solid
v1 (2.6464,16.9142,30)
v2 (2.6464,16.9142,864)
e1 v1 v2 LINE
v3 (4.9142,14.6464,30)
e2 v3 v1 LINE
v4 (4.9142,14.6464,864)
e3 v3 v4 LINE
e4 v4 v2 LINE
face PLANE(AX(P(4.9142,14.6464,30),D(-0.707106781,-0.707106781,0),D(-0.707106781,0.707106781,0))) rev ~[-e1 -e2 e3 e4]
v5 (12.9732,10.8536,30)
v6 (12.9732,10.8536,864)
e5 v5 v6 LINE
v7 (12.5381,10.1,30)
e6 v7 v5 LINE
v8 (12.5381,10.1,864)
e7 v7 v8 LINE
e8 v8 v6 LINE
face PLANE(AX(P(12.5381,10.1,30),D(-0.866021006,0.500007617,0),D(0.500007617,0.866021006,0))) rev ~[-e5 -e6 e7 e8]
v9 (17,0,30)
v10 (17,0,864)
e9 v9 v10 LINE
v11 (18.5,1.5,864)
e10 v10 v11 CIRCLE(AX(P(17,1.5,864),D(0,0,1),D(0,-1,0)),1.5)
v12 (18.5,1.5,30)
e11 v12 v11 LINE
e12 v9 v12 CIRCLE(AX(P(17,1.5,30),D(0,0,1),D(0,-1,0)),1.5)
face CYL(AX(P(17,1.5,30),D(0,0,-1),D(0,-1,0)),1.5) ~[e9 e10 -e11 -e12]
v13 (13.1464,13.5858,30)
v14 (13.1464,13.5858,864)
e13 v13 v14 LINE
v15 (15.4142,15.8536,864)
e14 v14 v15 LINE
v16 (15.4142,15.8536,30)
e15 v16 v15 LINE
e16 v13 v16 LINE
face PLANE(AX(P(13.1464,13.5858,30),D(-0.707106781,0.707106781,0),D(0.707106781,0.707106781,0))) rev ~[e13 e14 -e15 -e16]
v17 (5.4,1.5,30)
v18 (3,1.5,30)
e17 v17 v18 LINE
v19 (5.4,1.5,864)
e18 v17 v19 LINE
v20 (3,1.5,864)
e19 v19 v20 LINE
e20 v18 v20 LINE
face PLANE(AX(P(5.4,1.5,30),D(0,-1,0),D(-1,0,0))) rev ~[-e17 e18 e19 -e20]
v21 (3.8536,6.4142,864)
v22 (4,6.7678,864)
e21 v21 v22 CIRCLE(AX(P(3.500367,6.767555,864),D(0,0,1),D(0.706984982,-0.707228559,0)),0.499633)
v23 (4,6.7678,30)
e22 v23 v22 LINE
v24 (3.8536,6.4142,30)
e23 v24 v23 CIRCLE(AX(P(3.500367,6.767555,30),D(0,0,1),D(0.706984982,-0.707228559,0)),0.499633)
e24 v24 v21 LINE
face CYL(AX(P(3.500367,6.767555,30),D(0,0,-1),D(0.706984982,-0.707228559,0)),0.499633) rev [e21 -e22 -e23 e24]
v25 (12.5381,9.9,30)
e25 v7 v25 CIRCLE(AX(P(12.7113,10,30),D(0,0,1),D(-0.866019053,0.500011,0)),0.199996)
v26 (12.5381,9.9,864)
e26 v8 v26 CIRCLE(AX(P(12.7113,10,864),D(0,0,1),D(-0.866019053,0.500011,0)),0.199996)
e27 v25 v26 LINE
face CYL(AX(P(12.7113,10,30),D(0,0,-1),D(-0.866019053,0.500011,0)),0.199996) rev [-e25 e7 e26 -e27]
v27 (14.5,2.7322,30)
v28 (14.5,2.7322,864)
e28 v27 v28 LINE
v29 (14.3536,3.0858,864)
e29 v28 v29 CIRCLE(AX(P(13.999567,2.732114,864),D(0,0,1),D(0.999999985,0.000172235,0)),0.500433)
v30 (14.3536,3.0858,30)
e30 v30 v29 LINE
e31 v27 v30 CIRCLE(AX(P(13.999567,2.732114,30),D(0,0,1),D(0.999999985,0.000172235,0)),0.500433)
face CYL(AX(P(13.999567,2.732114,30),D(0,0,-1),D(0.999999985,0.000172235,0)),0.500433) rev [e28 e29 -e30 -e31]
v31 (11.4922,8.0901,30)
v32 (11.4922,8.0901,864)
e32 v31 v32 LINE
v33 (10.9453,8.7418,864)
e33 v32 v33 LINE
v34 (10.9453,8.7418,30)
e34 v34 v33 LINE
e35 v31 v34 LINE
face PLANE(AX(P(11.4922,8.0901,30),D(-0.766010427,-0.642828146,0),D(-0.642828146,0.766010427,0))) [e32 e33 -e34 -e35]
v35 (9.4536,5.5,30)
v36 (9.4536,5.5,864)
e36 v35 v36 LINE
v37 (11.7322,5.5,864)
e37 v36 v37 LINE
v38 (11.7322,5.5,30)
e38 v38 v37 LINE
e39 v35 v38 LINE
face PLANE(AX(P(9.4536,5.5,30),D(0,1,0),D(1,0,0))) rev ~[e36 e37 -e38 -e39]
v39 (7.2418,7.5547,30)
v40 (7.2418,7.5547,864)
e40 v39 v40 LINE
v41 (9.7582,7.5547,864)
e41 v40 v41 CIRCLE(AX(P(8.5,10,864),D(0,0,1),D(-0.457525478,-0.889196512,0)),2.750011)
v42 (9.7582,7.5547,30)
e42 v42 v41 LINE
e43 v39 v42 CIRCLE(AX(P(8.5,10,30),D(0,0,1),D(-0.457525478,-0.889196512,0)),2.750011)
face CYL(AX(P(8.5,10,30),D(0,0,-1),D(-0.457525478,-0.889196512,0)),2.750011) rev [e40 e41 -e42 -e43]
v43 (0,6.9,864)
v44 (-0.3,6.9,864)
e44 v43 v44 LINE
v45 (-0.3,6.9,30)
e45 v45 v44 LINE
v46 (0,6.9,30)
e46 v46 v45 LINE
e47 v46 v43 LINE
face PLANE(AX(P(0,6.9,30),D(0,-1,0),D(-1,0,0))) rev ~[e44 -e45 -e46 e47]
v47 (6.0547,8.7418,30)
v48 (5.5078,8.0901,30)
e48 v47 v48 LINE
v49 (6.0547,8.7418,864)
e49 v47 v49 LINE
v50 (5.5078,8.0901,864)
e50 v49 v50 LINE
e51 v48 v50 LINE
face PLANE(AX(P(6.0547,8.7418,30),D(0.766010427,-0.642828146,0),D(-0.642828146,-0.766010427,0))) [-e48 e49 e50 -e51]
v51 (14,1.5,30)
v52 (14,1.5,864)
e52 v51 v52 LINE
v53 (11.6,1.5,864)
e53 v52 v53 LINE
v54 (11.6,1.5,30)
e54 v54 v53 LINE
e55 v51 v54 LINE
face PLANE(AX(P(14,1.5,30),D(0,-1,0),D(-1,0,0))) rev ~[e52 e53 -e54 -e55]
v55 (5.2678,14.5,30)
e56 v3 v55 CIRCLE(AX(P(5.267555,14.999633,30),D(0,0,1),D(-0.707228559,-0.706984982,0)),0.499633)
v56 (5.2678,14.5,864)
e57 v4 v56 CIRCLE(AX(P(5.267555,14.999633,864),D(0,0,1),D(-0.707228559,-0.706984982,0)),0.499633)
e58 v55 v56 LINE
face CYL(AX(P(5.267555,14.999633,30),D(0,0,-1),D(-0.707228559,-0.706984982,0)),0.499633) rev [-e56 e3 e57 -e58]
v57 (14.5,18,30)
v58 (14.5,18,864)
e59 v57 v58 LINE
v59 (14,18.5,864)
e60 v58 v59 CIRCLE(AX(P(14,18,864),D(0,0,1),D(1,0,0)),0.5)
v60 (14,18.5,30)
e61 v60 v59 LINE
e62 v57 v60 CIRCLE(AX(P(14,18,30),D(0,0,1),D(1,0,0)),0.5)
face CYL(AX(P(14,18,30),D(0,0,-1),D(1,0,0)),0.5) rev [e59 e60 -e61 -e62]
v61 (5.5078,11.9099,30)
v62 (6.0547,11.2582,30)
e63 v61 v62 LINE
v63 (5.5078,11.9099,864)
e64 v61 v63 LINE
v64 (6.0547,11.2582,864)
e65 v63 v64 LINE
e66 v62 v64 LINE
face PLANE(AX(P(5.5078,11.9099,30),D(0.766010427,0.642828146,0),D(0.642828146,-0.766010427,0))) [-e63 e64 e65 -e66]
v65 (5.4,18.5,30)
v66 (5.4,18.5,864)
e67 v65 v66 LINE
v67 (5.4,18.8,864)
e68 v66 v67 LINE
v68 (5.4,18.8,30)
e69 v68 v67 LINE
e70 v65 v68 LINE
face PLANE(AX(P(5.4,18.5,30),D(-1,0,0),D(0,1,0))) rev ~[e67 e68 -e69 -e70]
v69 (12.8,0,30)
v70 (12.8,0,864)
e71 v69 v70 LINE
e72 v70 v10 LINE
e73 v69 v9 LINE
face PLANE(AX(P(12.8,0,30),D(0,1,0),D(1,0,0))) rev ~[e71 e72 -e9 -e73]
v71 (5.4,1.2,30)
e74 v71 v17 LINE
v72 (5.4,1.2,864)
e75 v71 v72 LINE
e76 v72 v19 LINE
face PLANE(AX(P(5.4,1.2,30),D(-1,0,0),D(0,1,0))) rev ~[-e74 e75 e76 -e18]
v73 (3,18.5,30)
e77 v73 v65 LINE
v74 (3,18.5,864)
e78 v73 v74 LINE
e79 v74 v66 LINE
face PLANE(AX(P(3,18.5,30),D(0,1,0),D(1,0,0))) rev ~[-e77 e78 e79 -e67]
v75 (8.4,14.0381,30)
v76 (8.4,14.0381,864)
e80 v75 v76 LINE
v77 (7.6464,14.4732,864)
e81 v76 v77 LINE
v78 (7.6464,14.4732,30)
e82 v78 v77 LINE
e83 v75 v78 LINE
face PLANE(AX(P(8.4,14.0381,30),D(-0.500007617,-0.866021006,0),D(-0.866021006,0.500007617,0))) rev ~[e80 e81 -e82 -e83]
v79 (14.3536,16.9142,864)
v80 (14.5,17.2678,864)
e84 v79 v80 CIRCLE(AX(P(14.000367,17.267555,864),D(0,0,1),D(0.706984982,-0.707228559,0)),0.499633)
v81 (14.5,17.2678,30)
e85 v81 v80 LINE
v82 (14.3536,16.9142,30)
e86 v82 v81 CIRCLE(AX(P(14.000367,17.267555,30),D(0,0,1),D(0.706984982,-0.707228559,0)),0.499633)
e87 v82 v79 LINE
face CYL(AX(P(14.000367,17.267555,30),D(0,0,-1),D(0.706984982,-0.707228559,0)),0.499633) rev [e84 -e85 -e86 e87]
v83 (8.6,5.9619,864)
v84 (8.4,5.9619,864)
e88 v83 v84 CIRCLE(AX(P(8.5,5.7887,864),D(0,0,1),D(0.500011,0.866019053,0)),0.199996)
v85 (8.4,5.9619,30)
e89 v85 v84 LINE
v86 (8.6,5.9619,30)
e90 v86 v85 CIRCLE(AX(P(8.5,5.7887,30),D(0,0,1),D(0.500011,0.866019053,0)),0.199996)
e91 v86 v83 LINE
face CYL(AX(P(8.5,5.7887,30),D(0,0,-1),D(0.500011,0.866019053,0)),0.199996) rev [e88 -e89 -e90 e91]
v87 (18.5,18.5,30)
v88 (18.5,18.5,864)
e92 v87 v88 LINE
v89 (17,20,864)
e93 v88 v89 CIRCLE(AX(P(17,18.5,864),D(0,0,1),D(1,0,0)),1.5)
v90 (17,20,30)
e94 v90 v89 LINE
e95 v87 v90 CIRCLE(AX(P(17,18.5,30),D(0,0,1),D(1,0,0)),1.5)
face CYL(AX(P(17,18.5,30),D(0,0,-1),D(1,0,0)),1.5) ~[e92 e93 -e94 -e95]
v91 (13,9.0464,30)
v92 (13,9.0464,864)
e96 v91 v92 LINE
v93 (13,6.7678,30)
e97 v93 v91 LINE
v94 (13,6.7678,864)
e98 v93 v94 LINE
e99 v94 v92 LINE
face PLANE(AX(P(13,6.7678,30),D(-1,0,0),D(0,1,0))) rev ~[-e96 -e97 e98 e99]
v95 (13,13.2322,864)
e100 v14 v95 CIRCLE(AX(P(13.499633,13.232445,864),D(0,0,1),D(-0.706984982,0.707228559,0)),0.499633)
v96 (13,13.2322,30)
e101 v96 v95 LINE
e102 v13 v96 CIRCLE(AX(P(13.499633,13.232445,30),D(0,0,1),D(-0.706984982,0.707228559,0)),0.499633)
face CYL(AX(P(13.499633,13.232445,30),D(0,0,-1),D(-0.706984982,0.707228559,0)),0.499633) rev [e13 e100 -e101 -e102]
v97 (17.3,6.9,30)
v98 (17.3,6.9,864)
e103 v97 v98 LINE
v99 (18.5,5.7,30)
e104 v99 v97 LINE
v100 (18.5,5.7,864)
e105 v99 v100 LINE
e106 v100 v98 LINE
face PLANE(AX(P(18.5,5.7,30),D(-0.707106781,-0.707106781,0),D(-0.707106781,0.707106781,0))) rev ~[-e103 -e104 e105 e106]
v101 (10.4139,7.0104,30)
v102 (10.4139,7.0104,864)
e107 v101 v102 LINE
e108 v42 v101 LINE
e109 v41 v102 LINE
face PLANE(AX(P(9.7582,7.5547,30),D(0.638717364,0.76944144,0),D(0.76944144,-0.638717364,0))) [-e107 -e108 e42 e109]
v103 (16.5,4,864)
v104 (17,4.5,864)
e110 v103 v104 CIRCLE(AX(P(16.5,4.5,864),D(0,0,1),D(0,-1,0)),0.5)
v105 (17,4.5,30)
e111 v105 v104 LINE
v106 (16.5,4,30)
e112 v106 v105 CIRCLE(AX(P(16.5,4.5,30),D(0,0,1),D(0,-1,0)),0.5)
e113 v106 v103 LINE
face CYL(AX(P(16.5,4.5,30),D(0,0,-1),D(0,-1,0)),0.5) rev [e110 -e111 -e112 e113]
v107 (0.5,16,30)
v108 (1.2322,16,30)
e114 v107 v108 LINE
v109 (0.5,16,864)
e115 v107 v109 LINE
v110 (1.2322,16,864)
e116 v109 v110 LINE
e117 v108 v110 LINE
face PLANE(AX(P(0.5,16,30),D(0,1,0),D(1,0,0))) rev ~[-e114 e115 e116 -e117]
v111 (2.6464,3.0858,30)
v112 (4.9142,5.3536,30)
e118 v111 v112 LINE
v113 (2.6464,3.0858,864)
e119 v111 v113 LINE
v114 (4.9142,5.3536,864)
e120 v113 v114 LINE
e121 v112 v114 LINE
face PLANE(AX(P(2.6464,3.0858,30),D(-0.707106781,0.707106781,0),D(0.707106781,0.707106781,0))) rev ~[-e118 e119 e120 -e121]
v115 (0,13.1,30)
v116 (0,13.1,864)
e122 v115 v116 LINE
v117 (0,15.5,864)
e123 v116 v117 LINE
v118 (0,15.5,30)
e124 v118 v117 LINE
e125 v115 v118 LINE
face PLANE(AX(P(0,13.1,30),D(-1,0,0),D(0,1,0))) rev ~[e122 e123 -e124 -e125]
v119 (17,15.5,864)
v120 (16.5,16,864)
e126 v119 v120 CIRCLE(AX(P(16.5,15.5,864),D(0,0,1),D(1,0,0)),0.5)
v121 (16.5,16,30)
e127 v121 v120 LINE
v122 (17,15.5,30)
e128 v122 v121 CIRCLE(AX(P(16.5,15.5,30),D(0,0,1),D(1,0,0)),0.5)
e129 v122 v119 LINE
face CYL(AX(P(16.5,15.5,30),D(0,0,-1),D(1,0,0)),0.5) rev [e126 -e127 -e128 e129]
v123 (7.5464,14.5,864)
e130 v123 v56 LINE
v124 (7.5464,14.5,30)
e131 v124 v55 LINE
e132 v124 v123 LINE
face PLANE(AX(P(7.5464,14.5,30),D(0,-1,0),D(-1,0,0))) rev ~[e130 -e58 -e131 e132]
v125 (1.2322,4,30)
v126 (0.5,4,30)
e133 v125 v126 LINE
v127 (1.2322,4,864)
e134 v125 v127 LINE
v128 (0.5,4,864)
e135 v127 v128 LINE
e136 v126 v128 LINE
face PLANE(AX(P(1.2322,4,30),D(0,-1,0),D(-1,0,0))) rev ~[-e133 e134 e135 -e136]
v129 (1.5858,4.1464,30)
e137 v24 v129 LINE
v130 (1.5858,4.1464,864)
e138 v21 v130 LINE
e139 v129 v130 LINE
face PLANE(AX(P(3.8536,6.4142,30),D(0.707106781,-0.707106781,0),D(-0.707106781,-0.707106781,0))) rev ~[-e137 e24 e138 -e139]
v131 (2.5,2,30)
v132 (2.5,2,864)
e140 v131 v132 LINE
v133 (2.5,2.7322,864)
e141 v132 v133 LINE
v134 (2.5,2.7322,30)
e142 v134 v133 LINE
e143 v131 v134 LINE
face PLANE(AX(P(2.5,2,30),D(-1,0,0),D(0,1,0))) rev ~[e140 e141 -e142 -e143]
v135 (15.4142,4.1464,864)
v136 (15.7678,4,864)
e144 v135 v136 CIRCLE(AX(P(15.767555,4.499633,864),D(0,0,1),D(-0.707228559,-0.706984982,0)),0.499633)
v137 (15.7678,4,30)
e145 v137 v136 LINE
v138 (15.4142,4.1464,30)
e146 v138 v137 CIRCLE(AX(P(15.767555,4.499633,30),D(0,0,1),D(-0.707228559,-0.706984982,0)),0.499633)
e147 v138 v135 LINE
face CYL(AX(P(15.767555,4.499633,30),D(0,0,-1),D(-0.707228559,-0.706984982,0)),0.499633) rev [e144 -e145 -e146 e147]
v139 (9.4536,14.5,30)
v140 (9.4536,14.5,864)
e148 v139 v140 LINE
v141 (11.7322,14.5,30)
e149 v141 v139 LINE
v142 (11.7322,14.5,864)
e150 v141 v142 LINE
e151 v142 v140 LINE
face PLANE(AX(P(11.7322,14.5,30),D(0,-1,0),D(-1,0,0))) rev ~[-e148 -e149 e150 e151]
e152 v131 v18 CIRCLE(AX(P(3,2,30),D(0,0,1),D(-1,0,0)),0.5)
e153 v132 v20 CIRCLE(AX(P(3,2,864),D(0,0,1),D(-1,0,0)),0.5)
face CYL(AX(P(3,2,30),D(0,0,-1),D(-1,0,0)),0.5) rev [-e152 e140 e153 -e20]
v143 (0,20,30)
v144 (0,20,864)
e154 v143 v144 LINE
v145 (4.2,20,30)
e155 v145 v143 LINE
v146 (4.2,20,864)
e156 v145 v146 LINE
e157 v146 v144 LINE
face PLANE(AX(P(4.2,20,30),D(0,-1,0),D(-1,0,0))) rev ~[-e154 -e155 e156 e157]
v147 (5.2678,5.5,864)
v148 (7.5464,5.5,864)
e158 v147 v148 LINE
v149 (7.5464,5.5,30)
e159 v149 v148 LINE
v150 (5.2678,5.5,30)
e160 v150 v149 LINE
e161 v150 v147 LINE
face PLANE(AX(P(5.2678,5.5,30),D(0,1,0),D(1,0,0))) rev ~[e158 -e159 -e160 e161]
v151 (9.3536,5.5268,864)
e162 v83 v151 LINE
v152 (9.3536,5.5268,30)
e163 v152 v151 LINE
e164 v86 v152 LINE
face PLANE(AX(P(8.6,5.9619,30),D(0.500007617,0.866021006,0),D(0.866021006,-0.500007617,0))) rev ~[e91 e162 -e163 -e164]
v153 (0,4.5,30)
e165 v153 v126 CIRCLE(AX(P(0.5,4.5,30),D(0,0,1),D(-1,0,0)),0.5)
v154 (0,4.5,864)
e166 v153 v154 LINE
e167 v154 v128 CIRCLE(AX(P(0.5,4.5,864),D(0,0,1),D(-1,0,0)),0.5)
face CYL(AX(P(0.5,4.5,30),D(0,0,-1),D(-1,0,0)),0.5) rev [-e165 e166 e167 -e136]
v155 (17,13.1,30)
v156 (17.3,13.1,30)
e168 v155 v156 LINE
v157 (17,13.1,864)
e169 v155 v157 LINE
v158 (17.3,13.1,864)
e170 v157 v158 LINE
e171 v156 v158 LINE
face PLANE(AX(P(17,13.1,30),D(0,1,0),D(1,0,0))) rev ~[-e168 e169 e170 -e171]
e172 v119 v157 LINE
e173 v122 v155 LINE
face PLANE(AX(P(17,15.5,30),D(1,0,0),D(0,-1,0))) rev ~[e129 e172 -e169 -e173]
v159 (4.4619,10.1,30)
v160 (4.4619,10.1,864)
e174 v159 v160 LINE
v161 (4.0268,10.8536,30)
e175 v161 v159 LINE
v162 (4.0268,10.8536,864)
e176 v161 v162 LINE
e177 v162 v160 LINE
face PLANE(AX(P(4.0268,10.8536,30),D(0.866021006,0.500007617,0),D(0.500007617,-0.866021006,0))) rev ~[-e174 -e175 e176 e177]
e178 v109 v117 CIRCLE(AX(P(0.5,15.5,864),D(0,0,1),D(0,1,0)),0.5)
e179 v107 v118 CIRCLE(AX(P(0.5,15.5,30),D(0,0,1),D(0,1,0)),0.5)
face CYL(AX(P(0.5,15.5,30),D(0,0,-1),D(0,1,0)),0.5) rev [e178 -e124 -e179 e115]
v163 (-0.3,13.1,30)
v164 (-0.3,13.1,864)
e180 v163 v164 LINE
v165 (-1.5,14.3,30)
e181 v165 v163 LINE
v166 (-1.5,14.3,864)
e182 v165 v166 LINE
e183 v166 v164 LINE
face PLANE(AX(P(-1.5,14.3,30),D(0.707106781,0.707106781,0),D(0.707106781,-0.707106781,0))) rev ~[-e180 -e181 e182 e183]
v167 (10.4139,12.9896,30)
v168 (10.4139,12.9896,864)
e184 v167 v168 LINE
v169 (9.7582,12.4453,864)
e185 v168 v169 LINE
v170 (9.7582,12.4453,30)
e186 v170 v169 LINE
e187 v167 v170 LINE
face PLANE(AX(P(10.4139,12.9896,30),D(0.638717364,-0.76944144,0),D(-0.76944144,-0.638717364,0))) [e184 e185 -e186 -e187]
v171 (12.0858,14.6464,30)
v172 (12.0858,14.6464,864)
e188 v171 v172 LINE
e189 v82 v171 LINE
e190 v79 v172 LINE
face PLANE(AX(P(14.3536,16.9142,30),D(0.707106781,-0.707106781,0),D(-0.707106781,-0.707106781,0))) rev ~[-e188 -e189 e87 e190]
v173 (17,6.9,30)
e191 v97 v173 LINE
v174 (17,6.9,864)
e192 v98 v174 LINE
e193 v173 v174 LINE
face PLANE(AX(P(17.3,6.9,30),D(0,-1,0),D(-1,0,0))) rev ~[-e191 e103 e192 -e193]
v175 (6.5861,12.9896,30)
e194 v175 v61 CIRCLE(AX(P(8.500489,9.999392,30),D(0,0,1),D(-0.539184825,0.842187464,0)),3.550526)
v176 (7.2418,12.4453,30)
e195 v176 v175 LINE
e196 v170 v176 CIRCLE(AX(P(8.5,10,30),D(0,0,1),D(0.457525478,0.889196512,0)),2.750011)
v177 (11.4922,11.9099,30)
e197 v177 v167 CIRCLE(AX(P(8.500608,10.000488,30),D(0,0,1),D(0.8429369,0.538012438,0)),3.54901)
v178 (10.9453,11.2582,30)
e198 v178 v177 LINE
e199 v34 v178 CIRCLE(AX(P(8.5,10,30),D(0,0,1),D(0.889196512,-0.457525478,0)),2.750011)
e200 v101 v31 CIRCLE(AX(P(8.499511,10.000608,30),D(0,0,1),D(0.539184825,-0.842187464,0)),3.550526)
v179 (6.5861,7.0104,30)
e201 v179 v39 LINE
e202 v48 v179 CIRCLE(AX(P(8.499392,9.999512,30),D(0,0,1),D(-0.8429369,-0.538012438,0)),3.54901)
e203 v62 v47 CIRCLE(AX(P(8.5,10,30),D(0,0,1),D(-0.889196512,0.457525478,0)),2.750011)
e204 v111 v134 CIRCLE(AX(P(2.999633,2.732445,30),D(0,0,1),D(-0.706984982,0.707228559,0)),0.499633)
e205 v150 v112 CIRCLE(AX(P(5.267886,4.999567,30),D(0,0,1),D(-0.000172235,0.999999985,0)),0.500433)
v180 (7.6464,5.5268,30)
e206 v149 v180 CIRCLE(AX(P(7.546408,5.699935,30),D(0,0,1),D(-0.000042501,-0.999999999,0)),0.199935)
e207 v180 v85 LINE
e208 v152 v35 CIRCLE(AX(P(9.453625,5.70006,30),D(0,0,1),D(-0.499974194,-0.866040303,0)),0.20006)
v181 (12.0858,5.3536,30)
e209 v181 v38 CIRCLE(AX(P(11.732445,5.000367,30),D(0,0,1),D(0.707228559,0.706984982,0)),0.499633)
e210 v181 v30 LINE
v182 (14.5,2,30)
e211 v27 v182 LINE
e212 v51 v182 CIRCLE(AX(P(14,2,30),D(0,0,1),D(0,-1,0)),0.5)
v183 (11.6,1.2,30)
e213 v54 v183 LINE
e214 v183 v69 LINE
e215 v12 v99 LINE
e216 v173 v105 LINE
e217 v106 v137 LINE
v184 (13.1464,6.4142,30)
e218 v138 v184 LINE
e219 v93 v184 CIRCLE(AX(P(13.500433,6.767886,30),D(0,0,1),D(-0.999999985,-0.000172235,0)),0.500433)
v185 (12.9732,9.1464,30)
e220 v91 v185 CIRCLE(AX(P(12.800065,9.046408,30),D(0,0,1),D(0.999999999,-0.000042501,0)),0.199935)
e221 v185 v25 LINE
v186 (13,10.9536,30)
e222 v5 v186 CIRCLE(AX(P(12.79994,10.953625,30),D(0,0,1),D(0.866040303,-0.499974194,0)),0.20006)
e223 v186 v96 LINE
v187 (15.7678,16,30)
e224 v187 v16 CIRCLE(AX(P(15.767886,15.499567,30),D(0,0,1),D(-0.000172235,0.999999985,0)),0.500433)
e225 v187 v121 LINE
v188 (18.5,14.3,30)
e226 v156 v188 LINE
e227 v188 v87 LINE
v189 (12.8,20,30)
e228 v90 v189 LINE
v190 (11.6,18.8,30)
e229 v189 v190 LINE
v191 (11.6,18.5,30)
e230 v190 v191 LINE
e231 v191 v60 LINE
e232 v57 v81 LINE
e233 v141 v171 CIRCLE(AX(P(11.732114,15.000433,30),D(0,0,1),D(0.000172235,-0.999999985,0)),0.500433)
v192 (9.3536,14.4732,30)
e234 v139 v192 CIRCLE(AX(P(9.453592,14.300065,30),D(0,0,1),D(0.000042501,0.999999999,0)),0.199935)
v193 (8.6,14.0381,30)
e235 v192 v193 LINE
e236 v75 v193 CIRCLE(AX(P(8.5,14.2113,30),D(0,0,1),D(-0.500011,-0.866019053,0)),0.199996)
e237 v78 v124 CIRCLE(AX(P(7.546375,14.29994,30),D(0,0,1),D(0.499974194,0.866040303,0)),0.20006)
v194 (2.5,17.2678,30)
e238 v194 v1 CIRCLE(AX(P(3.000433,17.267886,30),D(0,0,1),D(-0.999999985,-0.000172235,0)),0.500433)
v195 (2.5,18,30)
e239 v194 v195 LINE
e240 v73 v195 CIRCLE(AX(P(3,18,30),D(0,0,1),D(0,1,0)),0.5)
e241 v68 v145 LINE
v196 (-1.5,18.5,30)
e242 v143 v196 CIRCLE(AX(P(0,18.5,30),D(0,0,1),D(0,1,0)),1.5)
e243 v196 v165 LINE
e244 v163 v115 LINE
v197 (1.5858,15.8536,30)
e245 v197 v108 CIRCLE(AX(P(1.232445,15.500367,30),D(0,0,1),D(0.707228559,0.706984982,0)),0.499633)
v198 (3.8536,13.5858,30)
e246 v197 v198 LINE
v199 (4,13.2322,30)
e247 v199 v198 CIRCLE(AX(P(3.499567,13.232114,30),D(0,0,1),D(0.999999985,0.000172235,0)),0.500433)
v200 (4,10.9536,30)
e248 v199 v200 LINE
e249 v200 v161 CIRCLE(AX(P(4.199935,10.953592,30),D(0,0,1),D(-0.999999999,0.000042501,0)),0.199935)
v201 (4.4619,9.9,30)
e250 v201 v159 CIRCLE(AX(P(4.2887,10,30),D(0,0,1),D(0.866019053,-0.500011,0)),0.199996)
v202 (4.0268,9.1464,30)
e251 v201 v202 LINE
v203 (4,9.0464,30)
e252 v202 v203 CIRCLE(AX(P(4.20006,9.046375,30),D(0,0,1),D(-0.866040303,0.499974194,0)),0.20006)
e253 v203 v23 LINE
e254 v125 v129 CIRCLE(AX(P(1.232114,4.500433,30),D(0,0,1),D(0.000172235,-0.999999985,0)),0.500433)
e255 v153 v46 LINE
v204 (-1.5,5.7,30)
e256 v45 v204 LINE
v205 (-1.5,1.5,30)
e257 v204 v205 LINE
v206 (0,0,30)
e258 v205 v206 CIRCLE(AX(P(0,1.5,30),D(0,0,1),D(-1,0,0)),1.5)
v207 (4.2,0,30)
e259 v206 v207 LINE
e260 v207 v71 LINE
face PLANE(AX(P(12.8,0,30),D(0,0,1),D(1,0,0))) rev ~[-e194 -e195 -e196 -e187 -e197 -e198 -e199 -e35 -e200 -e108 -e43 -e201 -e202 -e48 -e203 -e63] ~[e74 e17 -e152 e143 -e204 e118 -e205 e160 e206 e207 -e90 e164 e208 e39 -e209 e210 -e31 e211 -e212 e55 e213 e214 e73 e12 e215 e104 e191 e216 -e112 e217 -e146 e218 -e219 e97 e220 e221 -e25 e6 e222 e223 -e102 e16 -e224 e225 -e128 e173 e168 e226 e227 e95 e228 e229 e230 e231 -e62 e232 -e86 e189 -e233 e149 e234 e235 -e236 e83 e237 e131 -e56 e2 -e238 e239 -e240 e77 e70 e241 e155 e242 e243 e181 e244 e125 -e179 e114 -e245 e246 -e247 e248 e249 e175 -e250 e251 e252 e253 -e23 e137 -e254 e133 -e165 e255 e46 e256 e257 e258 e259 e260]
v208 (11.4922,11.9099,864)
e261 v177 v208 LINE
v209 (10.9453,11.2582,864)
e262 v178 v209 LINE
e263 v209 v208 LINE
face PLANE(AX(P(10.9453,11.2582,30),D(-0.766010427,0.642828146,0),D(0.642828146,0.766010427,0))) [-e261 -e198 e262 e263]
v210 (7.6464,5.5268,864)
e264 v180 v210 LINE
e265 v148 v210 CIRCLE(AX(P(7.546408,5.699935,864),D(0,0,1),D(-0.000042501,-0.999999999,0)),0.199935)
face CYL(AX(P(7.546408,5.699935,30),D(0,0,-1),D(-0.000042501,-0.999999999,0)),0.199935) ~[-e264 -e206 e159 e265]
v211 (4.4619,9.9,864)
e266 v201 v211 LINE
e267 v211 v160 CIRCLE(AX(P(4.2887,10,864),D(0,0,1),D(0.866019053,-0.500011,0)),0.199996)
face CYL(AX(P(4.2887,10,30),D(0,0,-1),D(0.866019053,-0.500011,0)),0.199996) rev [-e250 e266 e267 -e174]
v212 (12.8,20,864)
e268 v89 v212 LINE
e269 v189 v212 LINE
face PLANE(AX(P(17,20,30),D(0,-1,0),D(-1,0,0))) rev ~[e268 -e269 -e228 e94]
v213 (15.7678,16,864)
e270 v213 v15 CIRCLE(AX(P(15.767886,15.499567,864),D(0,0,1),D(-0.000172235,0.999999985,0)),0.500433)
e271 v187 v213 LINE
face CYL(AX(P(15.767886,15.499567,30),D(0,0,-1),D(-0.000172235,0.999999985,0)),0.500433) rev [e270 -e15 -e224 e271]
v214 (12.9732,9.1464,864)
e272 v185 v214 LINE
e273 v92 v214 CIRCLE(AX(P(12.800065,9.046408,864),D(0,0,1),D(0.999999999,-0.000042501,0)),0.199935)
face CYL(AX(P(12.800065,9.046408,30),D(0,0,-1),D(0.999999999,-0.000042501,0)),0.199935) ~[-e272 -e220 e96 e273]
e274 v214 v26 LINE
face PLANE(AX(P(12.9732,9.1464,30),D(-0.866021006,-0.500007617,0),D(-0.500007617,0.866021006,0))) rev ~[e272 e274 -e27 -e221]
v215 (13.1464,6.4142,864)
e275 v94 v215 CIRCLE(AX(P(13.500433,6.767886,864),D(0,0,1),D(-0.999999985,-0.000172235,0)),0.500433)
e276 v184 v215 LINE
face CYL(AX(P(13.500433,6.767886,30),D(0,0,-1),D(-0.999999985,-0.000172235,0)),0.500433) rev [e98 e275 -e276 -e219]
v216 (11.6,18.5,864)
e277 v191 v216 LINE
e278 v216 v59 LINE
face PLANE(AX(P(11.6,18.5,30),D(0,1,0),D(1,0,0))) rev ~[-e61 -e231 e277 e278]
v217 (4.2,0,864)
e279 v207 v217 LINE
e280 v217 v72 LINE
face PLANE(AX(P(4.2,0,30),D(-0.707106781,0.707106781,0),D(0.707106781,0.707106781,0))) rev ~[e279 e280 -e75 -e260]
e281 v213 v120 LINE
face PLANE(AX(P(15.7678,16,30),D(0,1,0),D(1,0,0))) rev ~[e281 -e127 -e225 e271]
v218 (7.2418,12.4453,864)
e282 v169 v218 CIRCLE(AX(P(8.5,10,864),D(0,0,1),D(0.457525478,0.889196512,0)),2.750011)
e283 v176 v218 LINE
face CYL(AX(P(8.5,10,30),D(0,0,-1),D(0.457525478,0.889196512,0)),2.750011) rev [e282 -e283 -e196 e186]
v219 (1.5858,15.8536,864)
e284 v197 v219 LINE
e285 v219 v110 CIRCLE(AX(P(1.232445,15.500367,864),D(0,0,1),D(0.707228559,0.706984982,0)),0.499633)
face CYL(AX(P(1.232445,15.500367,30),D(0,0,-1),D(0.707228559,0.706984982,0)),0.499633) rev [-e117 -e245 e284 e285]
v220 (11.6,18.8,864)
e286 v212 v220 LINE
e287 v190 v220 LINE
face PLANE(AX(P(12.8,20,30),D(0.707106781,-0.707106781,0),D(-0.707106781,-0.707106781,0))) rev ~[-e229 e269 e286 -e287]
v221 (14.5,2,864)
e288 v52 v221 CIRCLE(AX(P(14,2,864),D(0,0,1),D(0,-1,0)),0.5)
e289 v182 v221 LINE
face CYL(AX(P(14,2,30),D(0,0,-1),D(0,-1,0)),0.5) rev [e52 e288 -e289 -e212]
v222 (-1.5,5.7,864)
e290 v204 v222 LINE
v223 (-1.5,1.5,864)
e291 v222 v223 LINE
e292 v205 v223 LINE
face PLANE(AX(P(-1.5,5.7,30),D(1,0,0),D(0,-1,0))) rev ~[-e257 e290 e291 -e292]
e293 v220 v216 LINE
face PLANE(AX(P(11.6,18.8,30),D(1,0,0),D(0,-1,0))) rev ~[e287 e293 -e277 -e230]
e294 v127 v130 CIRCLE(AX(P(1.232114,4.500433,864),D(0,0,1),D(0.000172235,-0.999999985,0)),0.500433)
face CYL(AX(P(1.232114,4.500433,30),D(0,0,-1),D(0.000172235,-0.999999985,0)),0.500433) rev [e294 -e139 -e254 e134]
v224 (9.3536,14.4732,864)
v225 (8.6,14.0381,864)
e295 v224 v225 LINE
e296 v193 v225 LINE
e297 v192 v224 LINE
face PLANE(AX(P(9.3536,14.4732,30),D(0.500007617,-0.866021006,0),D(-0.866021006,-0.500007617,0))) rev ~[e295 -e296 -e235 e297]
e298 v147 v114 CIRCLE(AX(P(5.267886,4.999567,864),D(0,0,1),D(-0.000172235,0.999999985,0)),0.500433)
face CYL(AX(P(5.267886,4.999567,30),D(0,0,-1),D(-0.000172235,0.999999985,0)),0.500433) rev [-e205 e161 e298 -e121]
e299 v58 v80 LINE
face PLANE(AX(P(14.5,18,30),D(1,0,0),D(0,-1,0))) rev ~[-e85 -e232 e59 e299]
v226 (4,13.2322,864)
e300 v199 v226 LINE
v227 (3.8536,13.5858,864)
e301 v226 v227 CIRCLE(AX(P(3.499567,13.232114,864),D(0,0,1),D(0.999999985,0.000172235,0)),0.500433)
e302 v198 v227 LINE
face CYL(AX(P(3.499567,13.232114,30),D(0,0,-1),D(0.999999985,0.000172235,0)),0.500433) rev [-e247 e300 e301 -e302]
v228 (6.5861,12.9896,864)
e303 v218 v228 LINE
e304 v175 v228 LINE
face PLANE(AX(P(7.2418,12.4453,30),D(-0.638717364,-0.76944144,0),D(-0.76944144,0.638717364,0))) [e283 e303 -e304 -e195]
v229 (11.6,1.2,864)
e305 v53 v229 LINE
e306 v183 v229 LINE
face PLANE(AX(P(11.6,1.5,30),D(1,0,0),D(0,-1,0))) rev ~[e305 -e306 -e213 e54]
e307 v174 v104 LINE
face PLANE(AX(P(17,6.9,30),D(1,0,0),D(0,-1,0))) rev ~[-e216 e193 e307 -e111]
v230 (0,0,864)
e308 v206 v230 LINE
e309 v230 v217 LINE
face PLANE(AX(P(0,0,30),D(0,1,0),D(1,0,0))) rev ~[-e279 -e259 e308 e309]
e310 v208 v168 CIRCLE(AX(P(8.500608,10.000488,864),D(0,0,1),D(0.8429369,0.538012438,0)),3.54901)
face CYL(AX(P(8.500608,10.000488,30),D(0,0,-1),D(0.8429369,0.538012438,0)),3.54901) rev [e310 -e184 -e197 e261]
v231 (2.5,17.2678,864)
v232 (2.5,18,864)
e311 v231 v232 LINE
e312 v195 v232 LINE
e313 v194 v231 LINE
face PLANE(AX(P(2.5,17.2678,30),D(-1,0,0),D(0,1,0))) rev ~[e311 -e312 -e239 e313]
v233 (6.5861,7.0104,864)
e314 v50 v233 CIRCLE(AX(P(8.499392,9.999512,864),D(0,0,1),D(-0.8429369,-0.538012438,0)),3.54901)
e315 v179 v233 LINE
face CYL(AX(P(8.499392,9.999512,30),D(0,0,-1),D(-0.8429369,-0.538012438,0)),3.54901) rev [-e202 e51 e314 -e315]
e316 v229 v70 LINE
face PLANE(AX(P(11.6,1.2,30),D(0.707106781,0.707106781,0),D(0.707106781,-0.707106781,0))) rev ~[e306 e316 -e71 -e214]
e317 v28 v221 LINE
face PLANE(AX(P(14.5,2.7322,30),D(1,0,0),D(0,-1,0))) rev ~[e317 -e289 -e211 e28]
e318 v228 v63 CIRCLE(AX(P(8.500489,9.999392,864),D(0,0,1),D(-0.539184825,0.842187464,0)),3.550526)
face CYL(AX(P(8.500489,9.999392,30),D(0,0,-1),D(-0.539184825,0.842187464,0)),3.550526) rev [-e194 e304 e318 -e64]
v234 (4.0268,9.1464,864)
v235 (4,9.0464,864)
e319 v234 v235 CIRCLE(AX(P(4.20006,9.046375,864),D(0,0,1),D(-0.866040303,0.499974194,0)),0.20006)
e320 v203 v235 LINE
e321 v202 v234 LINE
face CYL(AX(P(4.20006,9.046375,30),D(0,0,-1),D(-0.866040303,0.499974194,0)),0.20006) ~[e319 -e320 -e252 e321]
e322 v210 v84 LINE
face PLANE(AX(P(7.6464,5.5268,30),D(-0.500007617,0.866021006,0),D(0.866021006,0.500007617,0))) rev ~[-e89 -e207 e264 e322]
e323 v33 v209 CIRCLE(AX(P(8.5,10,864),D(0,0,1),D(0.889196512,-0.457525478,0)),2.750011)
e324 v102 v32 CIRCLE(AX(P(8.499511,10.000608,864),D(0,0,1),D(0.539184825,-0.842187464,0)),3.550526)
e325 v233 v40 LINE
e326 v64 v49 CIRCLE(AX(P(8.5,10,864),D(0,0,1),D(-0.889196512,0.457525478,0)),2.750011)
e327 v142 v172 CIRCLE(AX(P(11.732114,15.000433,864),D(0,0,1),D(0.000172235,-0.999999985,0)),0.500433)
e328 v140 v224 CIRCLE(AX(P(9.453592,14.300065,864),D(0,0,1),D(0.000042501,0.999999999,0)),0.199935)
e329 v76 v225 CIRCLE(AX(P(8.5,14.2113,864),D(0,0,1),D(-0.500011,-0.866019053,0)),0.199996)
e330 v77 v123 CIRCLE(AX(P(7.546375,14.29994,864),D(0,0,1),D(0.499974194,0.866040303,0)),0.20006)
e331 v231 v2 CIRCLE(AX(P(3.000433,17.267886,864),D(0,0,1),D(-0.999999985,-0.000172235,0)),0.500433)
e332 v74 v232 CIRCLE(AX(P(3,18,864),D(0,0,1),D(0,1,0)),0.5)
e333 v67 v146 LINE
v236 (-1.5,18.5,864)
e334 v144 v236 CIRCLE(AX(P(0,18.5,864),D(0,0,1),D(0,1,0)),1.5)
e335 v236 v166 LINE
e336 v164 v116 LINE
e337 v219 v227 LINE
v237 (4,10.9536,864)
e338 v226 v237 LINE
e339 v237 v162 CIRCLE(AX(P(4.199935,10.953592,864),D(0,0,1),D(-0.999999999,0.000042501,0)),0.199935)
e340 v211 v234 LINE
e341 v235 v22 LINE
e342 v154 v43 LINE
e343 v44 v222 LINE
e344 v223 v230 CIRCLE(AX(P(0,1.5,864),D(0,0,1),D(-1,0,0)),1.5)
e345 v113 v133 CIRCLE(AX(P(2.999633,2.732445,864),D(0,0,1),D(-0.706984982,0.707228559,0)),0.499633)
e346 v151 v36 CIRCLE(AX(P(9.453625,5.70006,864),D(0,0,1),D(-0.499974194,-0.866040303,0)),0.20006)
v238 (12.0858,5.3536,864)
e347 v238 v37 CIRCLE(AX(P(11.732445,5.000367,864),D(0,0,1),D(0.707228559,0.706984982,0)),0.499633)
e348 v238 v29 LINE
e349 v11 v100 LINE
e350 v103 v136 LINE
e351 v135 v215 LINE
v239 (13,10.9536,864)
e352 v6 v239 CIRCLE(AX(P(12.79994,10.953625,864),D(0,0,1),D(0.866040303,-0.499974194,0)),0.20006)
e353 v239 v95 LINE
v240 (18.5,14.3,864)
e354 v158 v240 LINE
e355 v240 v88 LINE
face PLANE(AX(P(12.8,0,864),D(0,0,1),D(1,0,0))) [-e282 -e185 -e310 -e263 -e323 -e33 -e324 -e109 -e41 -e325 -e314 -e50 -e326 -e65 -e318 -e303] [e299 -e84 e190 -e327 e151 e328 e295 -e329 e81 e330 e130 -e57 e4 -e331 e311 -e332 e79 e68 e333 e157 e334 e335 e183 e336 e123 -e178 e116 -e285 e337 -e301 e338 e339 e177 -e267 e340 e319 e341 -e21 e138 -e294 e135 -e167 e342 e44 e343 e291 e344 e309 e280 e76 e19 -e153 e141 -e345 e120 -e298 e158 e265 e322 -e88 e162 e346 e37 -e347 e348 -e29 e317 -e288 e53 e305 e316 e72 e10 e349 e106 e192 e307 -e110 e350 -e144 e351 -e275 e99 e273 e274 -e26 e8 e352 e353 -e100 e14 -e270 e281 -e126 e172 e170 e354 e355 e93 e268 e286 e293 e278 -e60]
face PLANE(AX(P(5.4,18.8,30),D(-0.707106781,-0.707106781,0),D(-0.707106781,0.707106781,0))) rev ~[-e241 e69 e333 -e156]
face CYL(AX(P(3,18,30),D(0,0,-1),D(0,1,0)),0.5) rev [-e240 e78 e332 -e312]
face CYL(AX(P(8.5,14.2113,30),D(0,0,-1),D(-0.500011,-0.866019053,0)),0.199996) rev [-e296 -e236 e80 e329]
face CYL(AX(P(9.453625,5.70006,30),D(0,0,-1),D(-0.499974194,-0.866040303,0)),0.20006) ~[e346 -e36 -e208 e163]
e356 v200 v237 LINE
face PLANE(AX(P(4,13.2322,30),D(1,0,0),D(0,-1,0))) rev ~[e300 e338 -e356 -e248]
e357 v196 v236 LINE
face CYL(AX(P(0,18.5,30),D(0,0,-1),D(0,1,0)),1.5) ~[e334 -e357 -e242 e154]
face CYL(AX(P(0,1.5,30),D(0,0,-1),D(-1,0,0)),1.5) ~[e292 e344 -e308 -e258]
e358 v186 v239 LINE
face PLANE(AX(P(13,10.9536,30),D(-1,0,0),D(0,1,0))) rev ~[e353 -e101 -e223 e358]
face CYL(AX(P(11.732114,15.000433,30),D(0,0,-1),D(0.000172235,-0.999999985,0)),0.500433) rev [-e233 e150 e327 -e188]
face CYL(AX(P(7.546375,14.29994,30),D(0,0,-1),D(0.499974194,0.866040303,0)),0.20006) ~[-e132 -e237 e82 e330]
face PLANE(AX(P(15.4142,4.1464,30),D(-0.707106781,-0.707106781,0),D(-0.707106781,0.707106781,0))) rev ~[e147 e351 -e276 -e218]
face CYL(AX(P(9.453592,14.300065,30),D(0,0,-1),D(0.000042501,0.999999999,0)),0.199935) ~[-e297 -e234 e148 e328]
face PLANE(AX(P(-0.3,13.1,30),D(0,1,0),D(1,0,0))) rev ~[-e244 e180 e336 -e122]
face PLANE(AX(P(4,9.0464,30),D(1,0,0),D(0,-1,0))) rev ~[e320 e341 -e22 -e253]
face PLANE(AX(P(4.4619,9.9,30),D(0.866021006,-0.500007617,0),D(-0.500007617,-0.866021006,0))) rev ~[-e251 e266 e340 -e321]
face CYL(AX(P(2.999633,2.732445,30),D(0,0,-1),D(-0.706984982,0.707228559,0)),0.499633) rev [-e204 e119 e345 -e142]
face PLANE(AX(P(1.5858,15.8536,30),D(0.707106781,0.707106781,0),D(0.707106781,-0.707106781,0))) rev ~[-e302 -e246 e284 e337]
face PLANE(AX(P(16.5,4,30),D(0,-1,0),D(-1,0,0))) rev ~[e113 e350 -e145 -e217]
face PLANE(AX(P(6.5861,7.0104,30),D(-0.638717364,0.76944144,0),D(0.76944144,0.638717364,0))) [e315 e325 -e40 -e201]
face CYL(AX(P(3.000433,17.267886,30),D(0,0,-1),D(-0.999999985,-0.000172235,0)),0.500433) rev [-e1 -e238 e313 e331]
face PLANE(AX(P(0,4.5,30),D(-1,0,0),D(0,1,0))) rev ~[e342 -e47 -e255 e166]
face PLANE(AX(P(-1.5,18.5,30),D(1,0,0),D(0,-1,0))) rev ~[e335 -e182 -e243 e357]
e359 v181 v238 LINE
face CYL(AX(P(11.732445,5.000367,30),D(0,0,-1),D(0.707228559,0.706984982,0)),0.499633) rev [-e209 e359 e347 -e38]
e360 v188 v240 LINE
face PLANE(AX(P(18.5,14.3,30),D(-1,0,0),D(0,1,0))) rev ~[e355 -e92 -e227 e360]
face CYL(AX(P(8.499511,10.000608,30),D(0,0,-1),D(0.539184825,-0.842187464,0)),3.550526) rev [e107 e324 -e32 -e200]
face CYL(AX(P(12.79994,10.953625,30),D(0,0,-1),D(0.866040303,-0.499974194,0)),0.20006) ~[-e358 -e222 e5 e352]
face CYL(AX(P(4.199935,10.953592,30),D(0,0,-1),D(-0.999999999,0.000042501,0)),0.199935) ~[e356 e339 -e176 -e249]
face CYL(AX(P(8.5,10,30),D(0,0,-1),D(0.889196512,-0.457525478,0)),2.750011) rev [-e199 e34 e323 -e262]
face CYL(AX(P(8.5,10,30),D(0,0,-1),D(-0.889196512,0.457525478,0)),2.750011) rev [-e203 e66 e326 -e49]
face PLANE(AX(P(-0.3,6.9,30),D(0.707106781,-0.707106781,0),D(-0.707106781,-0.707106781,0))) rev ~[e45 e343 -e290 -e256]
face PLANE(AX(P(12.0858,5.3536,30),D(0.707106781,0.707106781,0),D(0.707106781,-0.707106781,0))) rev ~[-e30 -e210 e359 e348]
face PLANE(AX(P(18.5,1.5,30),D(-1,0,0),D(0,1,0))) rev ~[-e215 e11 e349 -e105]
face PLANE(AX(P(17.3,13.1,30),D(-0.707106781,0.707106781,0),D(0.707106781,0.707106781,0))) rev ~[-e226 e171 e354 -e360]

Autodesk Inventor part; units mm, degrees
ref_plane "Work Plane5" through (12.8, 0, 50) normal (0, 0, 1) x (1, 0, 0)
sketch "Sketch" plane through (12.8, 0, 50) normal (0, 0, 1) x (1, 0, 0)
  arc A0 (1.7, 2.7322) -> (1.5536, 3.0858) centre (1.2, 2.7322) ccw
  line L0 (1.7, 2.7322) -> (1.7, 2)
  arc A1 (1.2, 1.5) -> (1.7, 2) centre (1.2, 2) ccw
  line L1 (1.2, 1.5) -> (-1.2, 1.5)
  line L2 (-1.2, 1.5) -> (-1.2, 1.2)
  line L3 (-1.2, 1.2) -> (0, 0)
  line L4 (0, 0) -> (4.2, 0)
  arc A2 (4.2, 0) -> (5.7, 1.5) centre (4.2, 1.5) ccw
  line L5 (5.7, 1.5) -> (5.7, 5.7)
  line L6 (5.7, 5.7) -> (4.5, 6.9)
  line L7 (4.5, 6.9) -> (4.2, 6.9)
  line L8 (4.2, 6.9) -> (4.2, 4.5)
  arc A3 (3.7, 4) -> (4.2, 4.5) centre (3.7, 4.5) ccw
  line L9 (3.7, 4) -> (2.9678, 4)
  arc A4 (2.6142, 4.1464) -> (2.9678, 4) centre (2.9678, 4.5) ccw
  line L10 (2.6142, 4.1464) -> (0.3464, 6.4142)
  arc A5 (0.2, 6.7678) -> (0.3464, 6.4142) centre (0.7, 6.7678) ccw
  line L11 (0.2, 6.7678) -> (0.2, 9.0464)
  arc A6 (0.2, 9.0464) -> (0.1732, 9.1464) centre (0, 9.0464) ccw
  line L12 (0.1732, 9.1464) -> (-0.2619, 9.9)
  arc A7 (-0.2619, 10.1) -> (-0.2619, 9.9) centre (-0.0887, 10) ccw
  line L13 (-0.2619, 10.1) -> (0.1732, 10.8536)
  arc A8 (0.1732, 10.8536) -> (0.2, 10.9536) centre (0, 10.9536) ccw
  line L14 (0.2, 10.9536) -> (0.2, 13.2322)
  arc A9 (0.3464, 13.5858) -> (0.2, 13.2322) centre (0.7, 13.2322) ccw
  line L15 (0.3464, 13.5858) -> (2.6142, 15.8536)
  arc A10 (2.9678, 16) -> (2.6142, 15.8536) centre (2.9678, 15.5) ccw
  line L16 (2.9678, 16) -> (3.7, 16)
  arc A11 (4.2, 15.5) -> (3.7, 16) centre (3.7, 15.5) ccw
  line L17 (4.2, 15.5) -> (4.2, 13.1)
  line L18 (4.2, 13.1) -> (4.5, 13.1)
  line L19 (4.5, 13.1) -> (5.7, 14.3)
  line L20 (5.7, 14.3) -> (5.7, 18.5)
  arc A12 (5.7, 18.5) -> (4.2, 20) centre (4.2, 18.5) ccw
  line L21 (4.2, 20) -> (0, 20)
  line L22 (0, 20) -> (-1.2, 18.8)
  line L23 (-1.2, 18.8) -> (-1.2, 18.5)
  line L24 (-1.2, 18.5) -> (1.2, 18.5)
  arc A13 (1.7, 18) -> (1.2, 18.5) centre (1.2, 18) ccw
  line L25 (1.7, 18) -> (1.7, 17.2678)
  arc A14 (1.5536, 16.9142) -> (1.7, 17.2678) centre (1.2, 17.2678) ccw
  line L26 (1.5536, 16.9142) -> (-0.7142, 14.6464)
  arc A15 (-1.0678, 14.5) -> (-0.7142, 14.6464) centre (-1.0678, 15) ccw
  line L27 (-1.0678, 14.5) -> (-3.3464, 14.5)
  arc A16 (-3.3464, 14.5) -> (-3.4464, 14.4732) centre (-3.3464, 14.3) ccw
  line L28 (-3.4464, 14.4732) -> (-4.2, 14.0381)
  arc A17 (-4.4, 14.0381) -> (-4.2, 14.0381) centre (-4.3, 14.2113) ccw
  line L29 (-4.4, 14.0381) -> (-5.1536, 14.4732)
  arc A18 (-5.1536, 14.4732) -> (-5.2536, 14.5) centre (-5.2536, 14.3) ccw
  line L30 (-5.2536, 14.5) -> (-7.5322, 14.5)
  arc A19 (-7.8858, 14.6464) -> (-7.5322, 14.5) centre (-7.5322, 15) ccw
  line L31 (-7.8858, 14.6464) -> (-10.1536, 16.9142)
  arc A20 (-10.3, 17.2678) -> (-10.1536, 16.9142) centre (-9.8, 17.2678) ccw
  line L32 (-10.3, 17.2678) -> (-10.3, 18)
  arc A21 (-9.8, 18.5) -> (-10.3, 18) centre (-9.8, 18) ccw
  line L33 (-9.8, 18.5) -> (-7.4, 18.5)
  line L34 (-7.4, 18.5) -> (-7.4, 18.8)
  line L35 (-7.4, 18.8) -> (-8.6, 20)
  line L36 (-8.6, 20) -> (-12.8, 20)
  arc A22 (-12.8, 20) -> (-14.3, 18.5) centre (-12.8, 18.5) ccw
  line L37 (-14.3, 18.5) -> (-14.3, 14.3)
  line L38 (-14.3, 14.3) -> (-13.1, 13.1)
  line L39 (-13.1, 13.1) -> (-12.8, 13.1)
  line L40 (-12.8, 13.1) -> (-12.8, 15.5)
  arc A23 (-12.3, 16) -> (-12.8, 15.5) centre (-12.3, 15.5) ccw
  line L41 (-12.3, 16) -> (-11.5678, 16)
  arc A24 (-11.2142, 15.8536) -> (-11.5678, 16) centre (-11.5678, 15.5) ccw
  line L42 (-11.2142, 15.8536) -> (-8.9464, 13.5858)
  arc A25 (-8.8, 13.2322) -> (-8.9464, 13.5858) centre (-9.3, 13.2322) ccw
  line L43 (-8.8, 13.2322) -> (-8.8, 10.9536)
  arc A26 (-8.8, 10.9536) -> (-8.7732, 10.8536) centre (-8.6, 10.9536) ccw
  line L44 (-8.7732, 10.8536) -> (-8.3381, 10.1)
  arc A27 (-8.3381, 9.9) -> (-8.3381, 10.1) centre (-8.5113, 10) ccw
  line L45 (-8.3381, 9.9) -> (-8.7732, 9.1464)
  arc A28 (-8.7732, 9.1464) -> (-8.8, 9.0464) centre (-8.6, 9.0464) ccw
  line L46 (-8.8, 9.0464) -> (-8.8, 6.7678)
  arc A29 (-8.9464, 6.4142) -> (-8.8, 6.7678) centre (-9.3, 6.7678) ccw
  line L47 (-8.9464, 6.4142) -> (-11.2142, 4.1464)
  arc A30 (-11.5678, 4) -> (-11.2142, 4.1464) centre (-11.5678, 4.5) ccw
  line L48 (-11.5678, 4) -> (-12.3, 4)
  arc A31 (-12.8, 4.5) -> (-12.3, 4) centre (-12.3, 4.5) ccw
  line L49 (-12.8, 4.5) -> (-12.8, 6.9)
  line L50 (-12.8, 6.9) -> (-13.1, 6.9)
  line L51 (-13.1, 6.9) -> (-14.3, 5.7)
  line L52 (-14.3, 5.7) -> (-14.3, 1.5)
  arc A32 (-14.3, 1.5) -> (-12.8, 0) centre (-12.8, 1.5) ccw
  line L53 (-12.8, 0) -> (-8.6, 0)
  line L54 (-8.6, 0) -> (-7.4, 1.2)
  line L55 (-7.4, 1.2) -> (-7.4, 1.5)
  line L56 (-7.4, 1.5) -> (-9.8, 1.5)
  arc A33 (-10.3, 2) -> (-9.8, 1.5) centre (-9.8, 2) ccw
  line L57 (-10.3, 2) -> (-10.3, 2.7322)
  arc A34 (-10.1536, 3.0858) -> (-10.3, 2.7322) centre (-9.8, 2.7322) ccw
  line L58 (-10.1536, 3.0858) -> (-7.8858, 5.3536)
  arc A35 (-7.5322, 5.5) -> (-7.8858, 5.3536) centre (-7.5322, 5) ccw
  line L59 (-7.5322, 5.5) -> (-5.2536, 5.5)
  arc A36 (-5.2536, 5.5) -> (-5.1536, 5.5268) centre (-5.2536, 5.7) ccw
  line L60 (-5.1536, 5.5268) -> (-4.4, 5.9619)
  arc A37 (-4.2, 5.9619) -> (-4.4, 5.9619) centre (-4.3, 5.7887) ccw
  line L61 (-4.2, 5.9619) -> (-3.4464, 5.5268)
  arc A38 (-3.4464, 5.5268) -> (-3.3464, 5.5) centre (-3.3464, 5.7) ccw
  line L62 (-3.3464, 5.5) -> (-1.0678, 5.5)
  arc A39 (-0.7142, 5.3536) -> (-1.0678, 5.5) centre (-1.0678, 5) ccw
  line L63 (-0.7142, 5.3536) -> (1.5536, 3.0858)
  line L64 (-6.7453, 8.7418) -> (-7.2922, 8.0901)
  arc A40 (-6.7453, 11.2582) -> (-6.7453, 8.7418) centre (-4.3, 10) ccw
  line L65 (-7.2922, 11.9099) -> (-6.7453, 11.2582)
  arc A41 (-6.2139, 12.9896) -> (-7.2922, 11.9099) centre (-4.3, 10) ccw
  line L66 (-5.5582, 12.4453) -> (-6.2139, 12.9896)
  arc A42 (-3.0418, 12.4453) -> (-5.5582, 12.4453) centre (-4.3, 10) ccw
  line L67 (-2.3861, 12.9896) -> (-3.0418, 12.4453)
  arc A43 (-1.3078, 11.9099) -> (-2.3861, 12.9896) centre (-4.3, 10) ccw
  line L68 (-1.8547, 11.2582) -> (-1.3078, 11.9099)
  arc A44 (-1.8547, 8.7418) -> (-1.8547, 11.2582) centre (-4.3, 10) ccw
  line L69 (-1.3078, 8.0901) -> (-1.8547, 8.7418)
  arc A45 (-2.3861, 7.0104) -> (-1.3078, 8.0901) centre (-4.3, 10) ccw
  line L70 (-3.0418, 7.5547) -> (-2.3861, 7.0104)
  arc A46 (-5.5582, 7.5547) -> (-3.0418, 7.5547) centre (-4.3, 10) ccw
  line L71 (-6.2139, 7.0104) -> (-5.5582, 7.5547)
  arc A47 (-7.2922, 8.0901) -> (-6.2139, 7.0104) centre (-4.3, 10) ccw
ref_plane "Start Plane" through (12.8, 0, 30) normal (0, 0, 1) x (1, 0, 0)
ref_plane "End Plane" through (12.8, 0, 864) normal (0, 0, 1) x (1, 0, 0)
extrude "Body" add sketch "Sketch" along normal up to surface (834 mm away) from surface at -20
sketch "Sketch8" plane through (12.8, 0, 50) normal (0, 0, 1) x (1, 0, 0)
  line L0 (0, 0) -> (10, 0)
ref_plane "Work Plane10" through (12.8, 0, 50) normal (0, -1, 0) x (1, 0, 0)
sketch "Sketch9" plane through (12.8, 0, 50) normal (0, -1, 0) x (1, 0, 0)
  line L0 (-2, -20) -> (12, -20)
  line L1 (-2, 814) -> (12, 814)
  dimension "d16" = 834
ref_plane "Work Plane11" through (8.5, -520, 30) normal (0, 0, -1) x (-1, 0, 0)
split "Split1" plane through (8.5, -520, 30) removes the side toward (0, 0, -1)
ref_plane "Work Plane12" through (8.5, 0, 864) normal (0, 0, 1) x (1, 0, 0)
split "Split2" plane through (8.5, 0, 864) removes the side toward (0, 0, 1)
equation "\"LENGTH\" = 794"
equation "\"G_OFFSET_START\" = 0"
equation "\"G_OFFSET_END\" = 0"
equation "\"G_L\" = d16"
equation "\"d12\" = LENGTH + G_OFFSET_END1"
equation "\"G_OFFSET_END1\" = 20"
properties part number "2020 V-slot 100mm"
